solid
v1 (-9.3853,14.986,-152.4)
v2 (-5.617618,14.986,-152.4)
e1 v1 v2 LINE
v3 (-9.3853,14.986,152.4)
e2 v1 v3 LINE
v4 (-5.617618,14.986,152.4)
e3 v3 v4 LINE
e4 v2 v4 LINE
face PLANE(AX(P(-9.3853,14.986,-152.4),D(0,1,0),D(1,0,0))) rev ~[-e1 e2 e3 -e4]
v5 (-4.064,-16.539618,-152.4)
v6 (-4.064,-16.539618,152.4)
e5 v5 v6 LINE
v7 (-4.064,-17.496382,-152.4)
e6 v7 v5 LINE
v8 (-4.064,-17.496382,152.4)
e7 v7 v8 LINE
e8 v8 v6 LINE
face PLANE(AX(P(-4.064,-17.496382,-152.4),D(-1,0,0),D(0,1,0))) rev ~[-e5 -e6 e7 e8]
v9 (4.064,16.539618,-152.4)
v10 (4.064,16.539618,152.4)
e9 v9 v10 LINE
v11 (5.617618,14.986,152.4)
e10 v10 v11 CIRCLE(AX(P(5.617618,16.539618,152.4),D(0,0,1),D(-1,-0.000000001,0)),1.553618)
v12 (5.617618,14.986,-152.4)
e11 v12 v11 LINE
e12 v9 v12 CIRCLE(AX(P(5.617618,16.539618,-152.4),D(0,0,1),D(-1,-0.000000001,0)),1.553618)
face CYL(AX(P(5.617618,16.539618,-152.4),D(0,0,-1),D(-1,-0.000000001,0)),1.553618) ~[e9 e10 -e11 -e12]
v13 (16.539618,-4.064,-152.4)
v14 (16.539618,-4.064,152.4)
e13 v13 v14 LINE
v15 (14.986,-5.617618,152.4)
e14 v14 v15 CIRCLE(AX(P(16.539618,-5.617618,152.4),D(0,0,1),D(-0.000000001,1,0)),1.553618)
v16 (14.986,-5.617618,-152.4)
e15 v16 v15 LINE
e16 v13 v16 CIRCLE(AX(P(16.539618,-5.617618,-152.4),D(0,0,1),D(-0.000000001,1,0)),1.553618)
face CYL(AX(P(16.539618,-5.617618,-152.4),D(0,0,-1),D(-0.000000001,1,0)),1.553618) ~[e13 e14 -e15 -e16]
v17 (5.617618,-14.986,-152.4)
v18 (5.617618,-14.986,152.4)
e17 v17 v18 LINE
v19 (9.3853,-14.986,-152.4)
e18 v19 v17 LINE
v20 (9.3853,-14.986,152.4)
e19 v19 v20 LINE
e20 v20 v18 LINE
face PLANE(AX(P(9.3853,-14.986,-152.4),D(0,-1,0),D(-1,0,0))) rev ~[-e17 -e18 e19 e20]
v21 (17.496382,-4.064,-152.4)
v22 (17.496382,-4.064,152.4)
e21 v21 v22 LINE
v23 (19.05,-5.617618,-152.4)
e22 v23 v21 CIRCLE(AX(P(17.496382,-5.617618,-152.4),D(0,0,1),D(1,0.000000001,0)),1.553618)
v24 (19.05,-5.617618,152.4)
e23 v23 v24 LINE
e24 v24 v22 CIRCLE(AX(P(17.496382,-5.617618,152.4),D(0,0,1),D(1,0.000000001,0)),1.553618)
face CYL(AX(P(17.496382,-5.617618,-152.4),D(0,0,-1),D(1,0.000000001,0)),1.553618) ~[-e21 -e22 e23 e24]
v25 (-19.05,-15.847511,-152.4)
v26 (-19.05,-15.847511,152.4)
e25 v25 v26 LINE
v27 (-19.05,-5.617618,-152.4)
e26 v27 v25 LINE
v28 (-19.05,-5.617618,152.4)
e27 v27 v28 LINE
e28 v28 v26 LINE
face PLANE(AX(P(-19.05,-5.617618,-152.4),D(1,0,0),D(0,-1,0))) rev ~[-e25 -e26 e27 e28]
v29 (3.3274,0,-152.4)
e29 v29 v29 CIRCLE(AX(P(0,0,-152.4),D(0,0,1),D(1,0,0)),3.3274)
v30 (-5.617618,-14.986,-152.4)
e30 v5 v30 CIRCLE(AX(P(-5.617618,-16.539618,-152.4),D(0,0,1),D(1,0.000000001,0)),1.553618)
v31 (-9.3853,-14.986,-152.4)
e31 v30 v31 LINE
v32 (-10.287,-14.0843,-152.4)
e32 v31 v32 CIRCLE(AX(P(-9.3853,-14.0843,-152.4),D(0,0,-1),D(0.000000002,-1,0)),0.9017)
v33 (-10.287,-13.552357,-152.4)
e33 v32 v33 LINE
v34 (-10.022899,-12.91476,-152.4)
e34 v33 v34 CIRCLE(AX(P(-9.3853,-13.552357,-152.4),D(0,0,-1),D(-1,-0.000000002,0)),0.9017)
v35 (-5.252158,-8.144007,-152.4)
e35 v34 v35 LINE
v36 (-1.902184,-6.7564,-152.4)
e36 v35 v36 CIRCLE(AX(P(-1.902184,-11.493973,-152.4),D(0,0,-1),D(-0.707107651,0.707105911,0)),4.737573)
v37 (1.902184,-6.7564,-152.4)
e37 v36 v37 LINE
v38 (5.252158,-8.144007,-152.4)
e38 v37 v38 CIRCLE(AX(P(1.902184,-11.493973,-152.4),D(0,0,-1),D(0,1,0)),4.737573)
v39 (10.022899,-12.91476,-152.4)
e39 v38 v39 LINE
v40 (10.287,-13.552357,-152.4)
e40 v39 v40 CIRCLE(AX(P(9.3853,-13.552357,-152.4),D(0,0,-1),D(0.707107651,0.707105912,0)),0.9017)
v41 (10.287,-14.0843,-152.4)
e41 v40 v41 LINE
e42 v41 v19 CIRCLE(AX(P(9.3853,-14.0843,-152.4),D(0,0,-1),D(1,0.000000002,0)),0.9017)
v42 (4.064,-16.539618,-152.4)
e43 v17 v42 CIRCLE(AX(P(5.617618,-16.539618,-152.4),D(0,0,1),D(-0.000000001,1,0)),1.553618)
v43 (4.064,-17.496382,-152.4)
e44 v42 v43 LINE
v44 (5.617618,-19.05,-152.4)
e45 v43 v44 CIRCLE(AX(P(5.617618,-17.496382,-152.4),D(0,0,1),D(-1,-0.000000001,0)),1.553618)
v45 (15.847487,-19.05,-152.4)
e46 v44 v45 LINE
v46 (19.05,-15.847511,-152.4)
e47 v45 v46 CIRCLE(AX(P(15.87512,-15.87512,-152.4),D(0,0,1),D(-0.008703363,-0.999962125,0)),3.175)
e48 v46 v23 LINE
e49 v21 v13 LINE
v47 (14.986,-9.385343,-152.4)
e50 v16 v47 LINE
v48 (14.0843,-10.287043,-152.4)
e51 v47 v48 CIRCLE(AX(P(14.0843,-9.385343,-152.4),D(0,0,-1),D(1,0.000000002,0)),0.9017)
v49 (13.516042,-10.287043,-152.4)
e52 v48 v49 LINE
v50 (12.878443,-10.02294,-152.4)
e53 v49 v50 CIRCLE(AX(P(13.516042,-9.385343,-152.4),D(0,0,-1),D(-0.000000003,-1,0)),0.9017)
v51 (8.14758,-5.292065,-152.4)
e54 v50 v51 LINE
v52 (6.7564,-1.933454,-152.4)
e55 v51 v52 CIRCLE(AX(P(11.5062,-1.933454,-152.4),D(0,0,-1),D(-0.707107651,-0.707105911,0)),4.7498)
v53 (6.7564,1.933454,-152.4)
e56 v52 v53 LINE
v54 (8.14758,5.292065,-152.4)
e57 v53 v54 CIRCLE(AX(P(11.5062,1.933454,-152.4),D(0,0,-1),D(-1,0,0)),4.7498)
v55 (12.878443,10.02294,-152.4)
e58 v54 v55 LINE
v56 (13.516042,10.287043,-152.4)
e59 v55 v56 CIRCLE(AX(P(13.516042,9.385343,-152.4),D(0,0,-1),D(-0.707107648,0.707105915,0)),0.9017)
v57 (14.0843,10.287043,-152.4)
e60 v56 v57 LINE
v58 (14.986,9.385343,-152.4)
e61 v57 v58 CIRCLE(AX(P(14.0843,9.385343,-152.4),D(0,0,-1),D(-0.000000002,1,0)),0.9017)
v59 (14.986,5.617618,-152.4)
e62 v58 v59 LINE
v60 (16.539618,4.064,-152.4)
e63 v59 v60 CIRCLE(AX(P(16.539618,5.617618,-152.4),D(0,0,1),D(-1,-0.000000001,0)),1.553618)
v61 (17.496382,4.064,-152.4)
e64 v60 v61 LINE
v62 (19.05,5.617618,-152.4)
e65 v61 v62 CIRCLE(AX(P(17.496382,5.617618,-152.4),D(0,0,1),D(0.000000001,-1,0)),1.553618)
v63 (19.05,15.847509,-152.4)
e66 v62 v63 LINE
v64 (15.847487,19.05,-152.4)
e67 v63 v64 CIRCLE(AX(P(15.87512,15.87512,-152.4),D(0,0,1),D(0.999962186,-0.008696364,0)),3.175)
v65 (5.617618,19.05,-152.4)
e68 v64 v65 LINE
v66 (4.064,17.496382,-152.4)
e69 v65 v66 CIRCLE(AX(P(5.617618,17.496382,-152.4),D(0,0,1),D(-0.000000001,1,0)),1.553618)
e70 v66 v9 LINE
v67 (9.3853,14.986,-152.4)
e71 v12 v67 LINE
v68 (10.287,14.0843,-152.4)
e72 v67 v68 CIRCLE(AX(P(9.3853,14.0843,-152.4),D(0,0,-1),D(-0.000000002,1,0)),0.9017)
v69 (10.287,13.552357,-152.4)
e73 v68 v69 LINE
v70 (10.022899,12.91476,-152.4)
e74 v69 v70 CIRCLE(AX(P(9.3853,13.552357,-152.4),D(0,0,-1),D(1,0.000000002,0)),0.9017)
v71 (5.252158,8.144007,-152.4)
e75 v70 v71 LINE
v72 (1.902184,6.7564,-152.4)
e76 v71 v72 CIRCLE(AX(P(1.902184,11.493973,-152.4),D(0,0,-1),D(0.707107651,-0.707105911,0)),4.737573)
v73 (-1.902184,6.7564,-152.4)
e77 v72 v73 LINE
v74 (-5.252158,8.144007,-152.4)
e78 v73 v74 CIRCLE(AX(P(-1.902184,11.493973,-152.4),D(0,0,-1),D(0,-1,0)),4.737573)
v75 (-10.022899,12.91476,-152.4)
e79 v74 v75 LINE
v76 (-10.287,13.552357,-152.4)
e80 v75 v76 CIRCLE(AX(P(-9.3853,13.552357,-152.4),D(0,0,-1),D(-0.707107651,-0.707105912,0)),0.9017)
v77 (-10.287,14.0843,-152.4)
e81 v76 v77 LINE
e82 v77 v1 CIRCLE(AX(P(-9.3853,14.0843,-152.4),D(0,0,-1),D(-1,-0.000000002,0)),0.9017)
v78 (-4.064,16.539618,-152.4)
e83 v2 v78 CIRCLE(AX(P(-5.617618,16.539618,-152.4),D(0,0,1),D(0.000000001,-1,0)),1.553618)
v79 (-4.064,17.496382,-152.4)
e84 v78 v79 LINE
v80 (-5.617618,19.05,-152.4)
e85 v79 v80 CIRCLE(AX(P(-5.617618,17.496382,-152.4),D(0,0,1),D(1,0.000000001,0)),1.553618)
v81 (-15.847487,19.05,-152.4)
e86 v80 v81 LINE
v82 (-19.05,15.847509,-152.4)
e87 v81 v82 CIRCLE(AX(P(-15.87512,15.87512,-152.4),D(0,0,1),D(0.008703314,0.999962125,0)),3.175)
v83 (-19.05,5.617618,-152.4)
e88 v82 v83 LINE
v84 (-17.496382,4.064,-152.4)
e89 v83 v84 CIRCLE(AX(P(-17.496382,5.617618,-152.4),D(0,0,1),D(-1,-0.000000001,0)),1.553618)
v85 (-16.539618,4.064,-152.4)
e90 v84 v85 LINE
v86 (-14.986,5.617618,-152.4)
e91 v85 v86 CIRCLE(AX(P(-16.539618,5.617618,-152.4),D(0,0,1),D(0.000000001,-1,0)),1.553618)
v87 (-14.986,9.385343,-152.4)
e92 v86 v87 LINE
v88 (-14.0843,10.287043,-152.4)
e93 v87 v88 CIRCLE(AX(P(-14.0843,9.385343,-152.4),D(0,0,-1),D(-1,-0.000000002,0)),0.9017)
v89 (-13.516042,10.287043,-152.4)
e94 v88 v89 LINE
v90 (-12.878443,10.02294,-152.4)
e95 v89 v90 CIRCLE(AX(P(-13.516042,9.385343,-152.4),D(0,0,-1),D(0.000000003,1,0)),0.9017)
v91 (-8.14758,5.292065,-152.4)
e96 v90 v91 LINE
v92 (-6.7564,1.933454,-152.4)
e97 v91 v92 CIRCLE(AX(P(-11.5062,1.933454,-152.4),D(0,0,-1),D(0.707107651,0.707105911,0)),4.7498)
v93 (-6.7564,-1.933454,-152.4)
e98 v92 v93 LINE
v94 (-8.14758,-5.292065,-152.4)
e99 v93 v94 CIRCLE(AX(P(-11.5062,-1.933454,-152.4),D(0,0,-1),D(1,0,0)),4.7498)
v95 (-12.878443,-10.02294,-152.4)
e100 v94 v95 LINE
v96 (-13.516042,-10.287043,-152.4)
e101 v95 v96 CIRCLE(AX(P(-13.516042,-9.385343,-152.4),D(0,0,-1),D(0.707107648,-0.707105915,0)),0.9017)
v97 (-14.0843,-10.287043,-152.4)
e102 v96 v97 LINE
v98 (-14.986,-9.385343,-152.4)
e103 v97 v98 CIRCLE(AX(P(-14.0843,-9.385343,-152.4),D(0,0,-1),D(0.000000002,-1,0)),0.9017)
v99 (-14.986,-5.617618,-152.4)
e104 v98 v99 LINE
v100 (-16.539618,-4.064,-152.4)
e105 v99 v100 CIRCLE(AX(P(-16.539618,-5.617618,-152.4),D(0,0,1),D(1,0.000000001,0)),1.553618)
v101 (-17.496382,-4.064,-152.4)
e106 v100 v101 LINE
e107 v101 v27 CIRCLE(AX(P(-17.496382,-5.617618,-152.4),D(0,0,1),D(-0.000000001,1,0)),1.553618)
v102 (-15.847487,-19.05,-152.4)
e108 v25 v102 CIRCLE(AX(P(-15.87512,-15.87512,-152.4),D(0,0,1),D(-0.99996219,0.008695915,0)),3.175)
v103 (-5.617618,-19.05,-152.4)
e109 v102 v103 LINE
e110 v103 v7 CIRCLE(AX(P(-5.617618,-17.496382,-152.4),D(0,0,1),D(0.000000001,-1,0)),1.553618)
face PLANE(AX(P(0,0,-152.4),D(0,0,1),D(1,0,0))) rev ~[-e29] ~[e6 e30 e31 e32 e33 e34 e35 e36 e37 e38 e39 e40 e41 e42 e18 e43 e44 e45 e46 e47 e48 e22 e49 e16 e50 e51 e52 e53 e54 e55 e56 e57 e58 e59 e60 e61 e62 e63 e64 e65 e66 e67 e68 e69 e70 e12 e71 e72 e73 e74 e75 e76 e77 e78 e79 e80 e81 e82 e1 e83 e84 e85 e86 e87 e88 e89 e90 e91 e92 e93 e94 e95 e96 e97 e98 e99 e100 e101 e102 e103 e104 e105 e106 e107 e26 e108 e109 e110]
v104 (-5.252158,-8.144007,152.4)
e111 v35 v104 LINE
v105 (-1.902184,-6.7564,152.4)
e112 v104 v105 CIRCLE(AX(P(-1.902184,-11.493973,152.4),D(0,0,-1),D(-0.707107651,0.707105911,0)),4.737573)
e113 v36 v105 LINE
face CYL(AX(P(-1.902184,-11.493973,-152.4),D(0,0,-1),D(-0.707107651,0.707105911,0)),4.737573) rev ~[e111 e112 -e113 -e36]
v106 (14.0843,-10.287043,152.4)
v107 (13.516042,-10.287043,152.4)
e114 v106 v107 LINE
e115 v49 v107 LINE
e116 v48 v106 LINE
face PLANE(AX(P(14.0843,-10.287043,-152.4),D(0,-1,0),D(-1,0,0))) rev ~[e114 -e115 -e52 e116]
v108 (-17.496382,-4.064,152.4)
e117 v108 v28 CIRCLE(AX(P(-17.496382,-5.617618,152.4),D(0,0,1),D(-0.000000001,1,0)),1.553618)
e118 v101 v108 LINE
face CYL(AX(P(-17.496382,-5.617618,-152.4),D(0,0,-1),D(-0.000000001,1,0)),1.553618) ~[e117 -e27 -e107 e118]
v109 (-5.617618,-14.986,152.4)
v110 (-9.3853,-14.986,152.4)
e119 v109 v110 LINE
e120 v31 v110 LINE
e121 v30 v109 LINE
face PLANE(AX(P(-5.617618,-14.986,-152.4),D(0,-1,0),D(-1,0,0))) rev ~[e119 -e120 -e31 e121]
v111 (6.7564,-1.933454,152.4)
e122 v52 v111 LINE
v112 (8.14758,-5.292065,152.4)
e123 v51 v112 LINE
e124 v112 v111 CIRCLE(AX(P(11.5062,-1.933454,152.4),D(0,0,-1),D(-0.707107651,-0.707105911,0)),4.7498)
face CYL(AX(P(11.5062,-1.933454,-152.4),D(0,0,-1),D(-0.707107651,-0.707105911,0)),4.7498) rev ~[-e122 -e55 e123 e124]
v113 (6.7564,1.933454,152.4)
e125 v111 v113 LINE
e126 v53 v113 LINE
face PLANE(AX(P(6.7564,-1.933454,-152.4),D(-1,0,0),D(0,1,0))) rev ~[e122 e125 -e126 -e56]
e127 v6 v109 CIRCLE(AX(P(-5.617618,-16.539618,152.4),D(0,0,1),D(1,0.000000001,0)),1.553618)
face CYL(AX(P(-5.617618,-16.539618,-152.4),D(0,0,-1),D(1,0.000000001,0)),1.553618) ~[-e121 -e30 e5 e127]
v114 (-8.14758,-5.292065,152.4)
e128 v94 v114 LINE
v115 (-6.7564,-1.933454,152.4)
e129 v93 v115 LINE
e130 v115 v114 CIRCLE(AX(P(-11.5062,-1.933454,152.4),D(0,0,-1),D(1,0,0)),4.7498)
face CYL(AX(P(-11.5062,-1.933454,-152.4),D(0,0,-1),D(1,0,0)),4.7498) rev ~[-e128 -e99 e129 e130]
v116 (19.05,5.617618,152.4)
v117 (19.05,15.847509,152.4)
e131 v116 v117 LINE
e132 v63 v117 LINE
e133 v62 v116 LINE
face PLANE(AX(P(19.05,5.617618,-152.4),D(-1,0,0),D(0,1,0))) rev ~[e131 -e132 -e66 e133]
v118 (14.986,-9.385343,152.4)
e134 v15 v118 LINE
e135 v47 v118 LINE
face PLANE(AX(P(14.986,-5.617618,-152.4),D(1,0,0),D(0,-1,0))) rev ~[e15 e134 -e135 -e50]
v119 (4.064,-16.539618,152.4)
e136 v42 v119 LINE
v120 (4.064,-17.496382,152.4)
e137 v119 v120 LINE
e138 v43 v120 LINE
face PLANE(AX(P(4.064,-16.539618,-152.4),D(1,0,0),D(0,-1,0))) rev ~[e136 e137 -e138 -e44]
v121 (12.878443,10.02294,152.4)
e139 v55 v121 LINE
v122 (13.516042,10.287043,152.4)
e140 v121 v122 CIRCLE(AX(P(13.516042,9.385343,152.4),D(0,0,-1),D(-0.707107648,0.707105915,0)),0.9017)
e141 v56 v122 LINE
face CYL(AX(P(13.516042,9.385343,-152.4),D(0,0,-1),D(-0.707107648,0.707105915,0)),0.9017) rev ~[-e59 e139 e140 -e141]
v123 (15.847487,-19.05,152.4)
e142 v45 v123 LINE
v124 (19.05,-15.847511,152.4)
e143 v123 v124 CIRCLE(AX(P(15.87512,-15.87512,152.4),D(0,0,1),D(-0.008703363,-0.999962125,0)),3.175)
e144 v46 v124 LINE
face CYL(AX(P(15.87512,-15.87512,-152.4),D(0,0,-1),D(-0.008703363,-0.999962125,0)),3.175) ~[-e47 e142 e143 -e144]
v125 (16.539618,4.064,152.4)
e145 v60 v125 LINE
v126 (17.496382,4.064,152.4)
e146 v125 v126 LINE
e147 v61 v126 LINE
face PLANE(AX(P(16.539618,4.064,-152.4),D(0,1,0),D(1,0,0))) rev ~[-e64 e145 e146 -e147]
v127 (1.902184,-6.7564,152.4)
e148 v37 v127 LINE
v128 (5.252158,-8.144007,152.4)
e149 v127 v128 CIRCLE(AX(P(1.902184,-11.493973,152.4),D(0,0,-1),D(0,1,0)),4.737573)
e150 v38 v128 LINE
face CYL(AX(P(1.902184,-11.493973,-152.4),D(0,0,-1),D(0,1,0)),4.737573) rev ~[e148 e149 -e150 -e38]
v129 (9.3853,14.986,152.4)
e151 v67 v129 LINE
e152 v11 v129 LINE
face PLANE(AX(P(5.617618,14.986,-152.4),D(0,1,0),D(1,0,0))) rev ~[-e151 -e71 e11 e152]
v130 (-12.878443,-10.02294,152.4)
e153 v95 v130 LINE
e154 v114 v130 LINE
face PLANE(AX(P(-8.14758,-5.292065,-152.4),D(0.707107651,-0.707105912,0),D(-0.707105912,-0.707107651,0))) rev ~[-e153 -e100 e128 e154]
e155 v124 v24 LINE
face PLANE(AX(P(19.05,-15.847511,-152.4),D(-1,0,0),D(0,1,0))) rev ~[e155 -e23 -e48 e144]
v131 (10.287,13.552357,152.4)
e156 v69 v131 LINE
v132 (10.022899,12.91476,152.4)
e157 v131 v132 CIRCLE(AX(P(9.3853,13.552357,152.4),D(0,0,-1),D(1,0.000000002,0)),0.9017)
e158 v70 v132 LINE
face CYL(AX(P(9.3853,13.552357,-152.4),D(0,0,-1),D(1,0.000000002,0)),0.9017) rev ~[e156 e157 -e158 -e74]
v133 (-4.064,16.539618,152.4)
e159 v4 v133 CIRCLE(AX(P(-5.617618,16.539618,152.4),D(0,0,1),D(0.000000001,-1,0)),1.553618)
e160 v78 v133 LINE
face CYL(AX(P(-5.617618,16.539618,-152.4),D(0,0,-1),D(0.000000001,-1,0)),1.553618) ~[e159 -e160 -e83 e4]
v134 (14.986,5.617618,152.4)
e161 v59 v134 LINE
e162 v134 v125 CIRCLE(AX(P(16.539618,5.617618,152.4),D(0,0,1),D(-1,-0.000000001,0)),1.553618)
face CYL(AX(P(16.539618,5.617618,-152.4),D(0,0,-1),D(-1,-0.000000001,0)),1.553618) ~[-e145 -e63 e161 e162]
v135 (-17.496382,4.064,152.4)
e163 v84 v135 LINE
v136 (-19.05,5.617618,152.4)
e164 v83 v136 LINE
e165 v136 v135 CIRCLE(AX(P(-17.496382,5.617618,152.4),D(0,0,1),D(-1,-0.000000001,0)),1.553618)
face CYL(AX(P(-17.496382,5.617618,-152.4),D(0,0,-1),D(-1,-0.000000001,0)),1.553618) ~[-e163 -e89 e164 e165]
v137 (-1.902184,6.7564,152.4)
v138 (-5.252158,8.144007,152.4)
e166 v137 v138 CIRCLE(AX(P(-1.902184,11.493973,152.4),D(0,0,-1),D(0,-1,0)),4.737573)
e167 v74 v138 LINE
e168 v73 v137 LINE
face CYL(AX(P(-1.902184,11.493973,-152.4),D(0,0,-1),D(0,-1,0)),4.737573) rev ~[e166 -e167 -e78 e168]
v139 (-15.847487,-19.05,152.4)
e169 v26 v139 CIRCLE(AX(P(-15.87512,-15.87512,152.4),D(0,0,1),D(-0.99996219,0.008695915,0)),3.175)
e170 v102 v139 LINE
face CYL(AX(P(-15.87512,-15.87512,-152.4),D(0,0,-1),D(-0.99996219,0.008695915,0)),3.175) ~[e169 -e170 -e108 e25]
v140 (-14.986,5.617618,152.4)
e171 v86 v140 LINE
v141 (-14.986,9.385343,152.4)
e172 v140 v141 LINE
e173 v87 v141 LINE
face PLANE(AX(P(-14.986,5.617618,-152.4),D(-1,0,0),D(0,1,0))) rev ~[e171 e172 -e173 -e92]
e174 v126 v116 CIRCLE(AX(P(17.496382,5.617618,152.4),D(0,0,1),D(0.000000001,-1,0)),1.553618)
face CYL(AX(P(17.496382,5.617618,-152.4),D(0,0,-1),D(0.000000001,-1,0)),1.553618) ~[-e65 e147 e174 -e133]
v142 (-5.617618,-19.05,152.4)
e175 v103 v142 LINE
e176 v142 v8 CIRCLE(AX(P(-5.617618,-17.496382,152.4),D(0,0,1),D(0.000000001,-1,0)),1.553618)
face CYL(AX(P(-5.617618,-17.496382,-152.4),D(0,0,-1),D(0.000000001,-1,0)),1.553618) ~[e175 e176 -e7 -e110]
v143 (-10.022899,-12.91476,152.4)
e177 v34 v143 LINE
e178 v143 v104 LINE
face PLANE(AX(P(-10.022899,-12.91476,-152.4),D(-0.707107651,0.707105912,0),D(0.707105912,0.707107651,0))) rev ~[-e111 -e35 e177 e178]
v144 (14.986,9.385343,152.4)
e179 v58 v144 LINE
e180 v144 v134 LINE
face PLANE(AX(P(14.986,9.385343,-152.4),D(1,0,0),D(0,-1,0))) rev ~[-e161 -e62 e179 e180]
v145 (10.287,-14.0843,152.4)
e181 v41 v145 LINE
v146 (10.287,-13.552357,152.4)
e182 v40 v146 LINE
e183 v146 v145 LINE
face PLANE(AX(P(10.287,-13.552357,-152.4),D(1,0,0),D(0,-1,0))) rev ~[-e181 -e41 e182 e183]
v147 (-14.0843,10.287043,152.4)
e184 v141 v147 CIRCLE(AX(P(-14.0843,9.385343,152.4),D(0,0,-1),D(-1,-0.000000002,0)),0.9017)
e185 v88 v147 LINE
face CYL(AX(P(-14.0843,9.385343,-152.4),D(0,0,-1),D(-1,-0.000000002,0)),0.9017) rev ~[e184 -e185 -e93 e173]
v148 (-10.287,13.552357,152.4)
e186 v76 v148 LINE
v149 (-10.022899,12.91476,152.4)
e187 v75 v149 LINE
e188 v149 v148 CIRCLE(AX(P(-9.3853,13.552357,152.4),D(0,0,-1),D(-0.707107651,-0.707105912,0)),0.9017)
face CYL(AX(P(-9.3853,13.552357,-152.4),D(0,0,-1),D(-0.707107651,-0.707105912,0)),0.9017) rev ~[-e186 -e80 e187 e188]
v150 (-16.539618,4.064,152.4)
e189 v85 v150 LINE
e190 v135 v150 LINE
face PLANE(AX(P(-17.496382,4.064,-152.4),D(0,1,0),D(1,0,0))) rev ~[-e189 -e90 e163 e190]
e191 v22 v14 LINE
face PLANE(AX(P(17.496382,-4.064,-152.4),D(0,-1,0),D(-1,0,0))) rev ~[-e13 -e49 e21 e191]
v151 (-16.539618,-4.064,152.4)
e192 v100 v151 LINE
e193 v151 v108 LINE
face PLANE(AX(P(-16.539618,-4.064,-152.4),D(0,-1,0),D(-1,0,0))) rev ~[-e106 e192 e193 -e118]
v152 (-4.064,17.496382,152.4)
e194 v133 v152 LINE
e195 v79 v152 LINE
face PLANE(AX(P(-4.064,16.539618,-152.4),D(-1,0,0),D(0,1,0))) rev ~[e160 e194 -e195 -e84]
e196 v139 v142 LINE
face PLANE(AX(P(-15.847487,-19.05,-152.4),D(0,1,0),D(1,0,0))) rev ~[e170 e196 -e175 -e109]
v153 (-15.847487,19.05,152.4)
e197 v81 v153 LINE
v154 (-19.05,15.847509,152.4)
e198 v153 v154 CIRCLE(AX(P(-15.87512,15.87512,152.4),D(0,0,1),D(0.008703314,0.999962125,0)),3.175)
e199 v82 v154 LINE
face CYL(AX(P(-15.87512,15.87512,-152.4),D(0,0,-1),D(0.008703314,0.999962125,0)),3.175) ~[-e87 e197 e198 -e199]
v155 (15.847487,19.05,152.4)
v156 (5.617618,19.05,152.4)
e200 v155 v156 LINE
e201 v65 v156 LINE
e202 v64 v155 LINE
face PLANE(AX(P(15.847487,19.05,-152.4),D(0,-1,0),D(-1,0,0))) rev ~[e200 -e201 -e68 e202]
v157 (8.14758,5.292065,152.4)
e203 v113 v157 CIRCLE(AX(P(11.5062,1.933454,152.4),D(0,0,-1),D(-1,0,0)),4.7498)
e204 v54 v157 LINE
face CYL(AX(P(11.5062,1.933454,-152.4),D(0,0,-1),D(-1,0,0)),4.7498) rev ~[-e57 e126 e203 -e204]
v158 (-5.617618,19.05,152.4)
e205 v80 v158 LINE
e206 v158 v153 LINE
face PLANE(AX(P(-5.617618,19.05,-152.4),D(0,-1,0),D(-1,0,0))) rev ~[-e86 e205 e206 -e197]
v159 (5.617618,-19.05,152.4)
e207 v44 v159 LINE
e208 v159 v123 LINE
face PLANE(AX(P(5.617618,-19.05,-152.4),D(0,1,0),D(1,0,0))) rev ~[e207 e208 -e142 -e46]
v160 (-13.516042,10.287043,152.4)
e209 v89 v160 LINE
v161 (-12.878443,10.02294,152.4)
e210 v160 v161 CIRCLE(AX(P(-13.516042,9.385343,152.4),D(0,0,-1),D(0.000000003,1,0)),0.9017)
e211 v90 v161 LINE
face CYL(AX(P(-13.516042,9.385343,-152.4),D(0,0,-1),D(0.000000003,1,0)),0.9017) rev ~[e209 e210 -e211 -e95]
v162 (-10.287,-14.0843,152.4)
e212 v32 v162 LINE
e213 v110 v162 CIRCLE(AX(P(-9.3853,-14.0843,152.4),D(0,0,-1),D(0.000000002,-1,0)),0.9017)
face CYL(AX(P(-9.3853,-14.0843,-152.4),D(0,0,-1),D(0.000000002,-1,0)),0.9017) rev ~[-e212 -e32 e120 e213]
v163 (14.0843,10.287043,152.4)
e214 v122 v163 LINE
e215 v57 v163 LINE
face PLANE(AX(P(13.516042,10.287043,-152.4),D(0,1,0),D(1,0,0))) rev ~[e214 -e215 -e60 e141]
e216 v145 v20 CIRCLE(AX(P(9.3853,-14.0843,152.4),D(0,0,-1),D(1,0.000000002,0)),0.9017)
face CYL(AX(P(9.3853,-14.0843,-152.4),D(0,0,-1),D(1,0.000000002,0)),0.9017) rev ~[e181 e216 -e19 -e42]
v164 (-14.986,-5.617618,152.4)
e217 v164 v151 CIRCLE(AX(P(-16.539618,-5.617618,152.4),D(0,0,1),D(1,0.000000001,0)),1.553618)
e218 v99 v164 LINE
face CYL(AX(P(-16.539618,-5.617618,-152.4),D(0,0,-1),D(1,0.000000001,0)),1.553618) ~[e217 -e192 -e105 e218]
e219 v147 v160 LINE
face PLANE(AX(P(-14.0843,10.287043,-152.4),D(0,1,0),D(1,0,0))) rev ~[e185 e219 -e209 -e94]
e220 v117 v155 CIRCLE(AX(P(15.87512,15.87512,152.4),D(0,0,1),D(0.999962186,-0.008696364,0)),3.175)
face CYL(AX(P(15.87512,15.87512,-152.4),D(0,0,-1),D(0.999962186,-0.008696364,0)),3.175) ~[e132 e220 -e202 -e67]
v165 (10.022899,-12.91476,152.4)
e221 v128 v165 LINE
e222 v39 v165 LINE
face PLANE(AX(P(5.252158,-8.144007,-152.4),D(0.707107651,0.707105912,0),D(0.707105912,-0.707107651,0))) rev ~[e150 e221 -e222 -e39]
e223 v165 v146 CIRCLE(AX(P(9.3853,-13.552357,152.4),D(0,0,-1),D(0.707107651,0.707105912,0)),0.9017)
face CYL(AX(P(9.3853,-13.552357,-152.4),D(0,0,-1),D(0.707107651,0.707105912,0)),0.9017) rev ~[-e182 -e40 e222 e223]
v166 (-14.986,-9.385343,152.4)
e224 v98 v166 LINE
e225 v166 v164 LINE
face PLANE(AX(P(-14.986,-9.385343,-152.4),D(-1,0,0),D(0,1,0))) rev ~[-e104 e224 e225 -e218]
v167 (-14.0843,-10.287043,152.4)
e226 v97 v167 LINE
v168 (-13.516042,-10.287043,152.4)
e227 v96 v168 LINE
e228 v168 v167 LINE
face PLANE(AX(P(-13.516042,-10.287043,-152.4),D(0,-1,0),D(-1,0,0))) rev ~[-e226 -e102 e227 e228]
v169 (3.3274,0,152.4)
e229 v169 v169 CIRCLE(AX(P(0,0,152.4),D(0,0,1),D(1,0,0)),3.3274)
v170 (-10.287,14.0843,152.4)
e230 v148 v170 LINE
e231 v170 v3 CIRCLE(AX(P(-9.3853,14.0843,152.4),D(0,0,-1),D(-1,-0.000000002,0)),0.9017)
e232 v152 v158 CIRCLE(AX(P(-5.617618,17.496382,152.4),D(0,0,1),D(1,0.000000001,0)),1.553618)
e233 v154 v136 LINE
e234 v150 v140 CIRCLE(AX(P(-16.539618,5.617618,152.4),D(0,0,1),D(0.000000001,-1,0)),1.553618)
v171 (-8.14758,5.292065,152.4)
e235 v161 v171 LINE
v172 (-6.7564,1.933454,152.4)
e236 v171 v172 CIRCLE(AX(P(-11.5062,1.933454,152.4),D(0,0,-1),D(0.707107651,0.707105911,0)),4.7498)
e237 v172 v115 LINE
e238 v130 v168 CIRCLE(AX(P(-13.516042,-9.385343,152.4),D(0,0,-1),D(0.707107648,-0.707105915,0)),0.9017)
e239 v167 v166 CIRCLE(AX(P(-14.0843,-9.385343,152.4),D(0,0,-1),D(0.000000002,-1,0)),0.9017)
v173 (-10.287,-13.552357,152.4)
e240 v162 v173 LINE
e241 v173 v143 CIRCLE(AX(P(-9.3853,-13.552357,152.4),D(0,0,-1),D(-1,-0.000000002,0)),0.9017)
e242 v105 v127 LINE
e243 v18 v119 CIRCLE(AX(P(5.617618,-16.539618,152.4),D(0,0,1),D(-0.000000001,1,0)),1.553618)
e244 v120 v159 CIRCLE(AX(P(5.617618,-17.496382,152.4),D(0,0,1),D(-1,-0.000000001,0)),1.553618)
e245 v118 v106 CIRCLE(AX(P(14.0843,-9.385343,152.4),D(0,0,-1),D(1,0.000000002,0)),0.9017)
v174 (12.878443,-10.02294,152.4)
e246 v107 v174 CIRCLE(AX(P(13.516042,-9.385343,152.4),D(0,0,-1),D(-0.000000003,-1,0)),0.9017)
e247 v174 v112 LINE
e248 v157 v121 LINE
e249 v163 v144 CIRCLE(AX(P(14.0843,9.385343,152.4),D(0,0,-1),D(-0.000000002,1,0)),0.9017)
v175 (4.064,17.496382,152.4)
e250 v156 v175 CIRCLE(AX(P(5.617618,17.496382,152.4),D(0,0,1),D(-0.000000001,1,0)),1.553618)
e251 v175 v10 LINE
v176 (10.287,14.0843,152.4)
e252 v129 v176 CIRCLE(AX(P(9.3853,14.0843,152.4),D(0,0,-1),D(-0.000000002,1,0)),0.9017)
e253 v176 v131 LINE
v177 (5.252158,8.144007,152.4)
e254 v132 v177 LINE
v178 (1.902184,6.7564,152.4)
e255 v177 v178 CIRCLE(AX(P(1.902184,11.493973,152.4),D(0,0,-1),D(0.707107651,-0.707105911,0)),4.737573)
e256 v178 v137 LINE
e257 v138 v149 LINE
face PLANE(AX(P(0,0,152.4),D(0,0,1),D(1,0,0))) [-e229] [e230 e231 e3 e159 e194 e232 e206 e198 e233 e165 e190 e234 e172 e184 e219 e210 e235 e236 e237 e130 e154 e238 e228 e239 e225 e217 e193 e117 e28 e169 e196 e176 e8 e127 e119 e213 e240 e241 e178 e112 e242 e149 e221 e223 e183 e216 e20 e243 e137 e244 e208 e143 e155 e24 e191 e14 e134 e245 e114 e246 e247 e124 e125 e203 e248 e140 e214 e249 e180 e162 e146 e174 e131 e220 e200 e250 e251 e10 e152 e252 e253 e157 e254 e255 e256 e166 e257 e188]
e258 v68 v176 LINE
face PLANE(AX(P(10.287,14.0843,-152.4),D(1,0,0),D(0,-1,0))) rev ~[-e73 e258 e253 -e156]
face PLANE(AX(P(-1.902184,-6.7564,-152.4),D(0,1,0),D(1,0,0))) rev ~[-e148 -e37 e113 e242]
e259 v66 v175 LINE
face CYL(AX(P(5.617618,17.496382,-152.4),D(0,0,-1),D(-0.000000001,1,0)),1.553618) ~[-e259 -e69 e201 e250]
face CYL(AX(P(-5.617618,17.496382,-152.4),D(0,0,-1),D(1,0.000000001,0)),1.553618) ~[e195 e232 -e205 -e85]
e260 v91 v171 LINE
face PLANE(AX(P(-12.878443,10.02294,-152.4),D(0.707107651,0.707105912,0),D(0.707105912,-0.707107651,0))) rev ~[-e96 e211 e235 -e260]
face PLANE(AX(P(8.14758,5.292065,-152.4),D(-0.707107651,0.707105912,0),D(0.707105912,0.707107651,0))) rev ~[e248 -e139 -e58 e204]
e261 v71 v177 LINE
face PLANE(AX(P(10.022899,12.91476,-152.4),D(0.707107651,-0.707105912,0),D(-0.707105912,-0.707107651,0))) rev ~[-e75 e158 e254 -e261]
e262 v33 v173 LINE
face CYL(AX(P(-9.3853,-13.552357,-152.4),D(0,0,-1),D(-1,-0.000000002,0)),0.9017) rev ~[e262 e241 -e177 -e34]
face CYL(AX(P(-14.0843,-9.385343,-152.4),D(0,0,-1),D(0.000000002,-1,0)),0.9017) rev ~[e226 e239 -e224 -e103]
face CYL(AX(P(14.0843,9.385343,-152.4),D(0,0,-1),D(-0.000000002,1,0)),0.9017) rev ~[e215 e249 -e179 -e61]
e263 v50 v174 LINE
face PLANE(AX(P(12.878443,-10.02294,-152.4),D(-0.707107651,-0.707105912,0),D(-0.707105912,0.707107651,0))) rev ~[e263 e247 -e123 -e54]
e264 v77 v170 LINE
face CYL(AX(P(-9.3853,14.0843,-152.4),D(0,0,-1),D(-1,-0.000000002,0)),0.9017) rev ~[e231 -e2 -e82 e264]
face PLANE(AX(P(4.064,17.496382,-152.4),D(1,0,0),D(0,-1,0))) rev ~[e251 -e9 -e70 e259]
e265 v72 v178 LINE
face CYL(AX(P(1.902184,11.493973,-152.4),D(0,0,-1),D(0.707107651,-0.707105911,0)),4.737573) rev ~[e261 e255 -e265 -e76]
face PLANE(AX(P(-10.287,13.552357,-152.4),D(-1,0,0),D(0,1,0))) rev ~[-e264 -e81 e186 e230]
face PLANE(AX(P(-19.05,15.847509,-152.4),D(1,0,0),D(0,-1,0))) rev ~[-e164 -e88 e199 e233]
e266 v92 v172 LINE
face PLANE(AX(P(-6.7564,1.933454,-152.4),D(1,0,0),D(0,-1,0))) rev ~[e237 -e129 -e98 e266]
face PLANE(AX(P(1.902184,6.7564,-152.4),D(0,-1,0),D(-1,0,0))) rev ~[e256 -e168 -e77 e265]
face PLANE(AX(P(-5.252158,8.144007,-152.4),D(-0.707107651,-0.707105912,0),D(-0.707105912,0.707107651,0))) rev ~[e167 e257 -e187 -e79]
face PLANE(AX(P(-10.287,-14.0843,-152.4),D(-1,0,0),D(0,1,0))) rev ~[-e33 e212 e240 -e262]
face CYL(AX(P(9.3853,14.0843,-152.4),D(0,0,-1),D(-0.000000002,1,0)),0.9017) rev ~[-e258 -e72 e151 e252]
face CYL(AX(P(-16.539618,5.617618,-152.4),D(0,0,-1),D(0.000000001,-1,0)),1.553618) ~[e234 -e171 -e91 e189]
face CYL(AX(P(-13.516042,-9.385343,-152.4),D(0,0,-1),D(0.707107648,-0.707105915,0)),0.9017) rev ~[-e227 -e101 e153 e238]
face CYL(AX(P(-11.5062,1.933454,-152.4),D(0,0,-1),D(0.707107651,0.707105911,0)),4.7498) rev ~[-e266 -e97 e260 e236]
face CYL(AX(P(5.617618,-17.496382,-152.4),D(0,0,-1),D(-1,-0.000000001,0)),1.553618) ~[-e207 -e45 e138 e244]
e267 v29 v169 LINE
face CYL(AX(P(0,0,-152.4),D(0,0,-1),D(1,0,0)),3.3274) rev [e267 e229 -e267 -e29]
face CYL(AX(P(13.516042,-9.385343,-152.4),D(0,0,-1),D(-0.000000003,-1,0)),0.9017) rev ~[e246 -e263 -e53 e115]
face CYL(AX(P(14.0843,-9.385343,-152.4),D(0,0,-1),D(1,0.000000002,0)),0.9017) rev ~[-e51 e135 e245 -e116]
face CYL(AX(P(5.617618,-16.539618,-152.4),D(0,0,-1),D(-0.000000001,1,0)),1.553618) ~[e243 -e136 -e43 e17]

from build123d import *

# Parameters (mm, degrees)
BOSS_EXTRUDE1_DEPTH      = 152.4
BOSS_EXTRUDE1_DEPTH_BACK = 152.4
SKETCH3_R                = 3.3274


with BuildPart() as part:
    # Sketch3 → Boss-Extrude1 (new, two sides: drawn at the far end of the back side and taken through both)
    with BuildSketch(Plane.XY.offset(-BOSS_EXTRUDE1_DEPTH_BACK)):
        with BuildLine():
            ThreePointArc((-5.617617549, 14.986), (-4.519044045, 15.441044045), (-4.064, 16.539617549))
            Line((-4.064, 16.539617549), (-4.064, 17.496382451))
            ThreePointArc((-4.064, 17.496382451), (-4.519044045, 18.594955955), (-5.617617549, 19.05))
            Line((-5.617617549, 19.05), (-7.974178704, 19.05))
            Line((-7.974178704, 19.05), (-9.498178704, 19.05))
            Line((-9.498178704, 19.05), (-14.327719207, 19.05))
            Line((-14.327719207, 19.05), (-15.847487039, 19.05))
            ThreePointArc((-15.847487039, 19.05), (-18.120176289, 18.120192083), (-19.05, 15.847509295))
            Line((-19.05, 15.847509295), (-19.05, 14.327741484))
            Line((-19.05, 14.327741484), (-19.05, 9.496091471))
            Line((-19.05, 9.496091471), (-19.05, 7.97632366))
            Line((-19.05, 7.97632366), (-19.05, 5.617617549))
            ThreePointArc((-19.05, 5.617617549), (-18.594955955, 4.519044045), (-17.496382451, 4.064))
            Line((-17.496382451, 4.064), (-16.539617549, 4.064))
            ThreePointArc((-16.539617549, 4.064), (-15.441044045, 4.519044045), (-14.986, 5.617617549))
            Line((-14.986, 5.617617549), (-14.986, 9.385342516))
            ThreePointArc((-14.986, 9.385342516), (-14.721898185, 10.022940701), (-14.0843, 10.287042516))
            Line((-14.0843, 10.287042516), (-13.516042086, 10.287042516))
            ThreePointArc((-13.516042086, 10.287042516), (-13.170975923, 10.218404478), (-12.878443117, 10.022939917))
            Line((-12.878443117, 10.022939917), (-8.14758008, 5.292065243))
            ThreePointArc((-8.14758008, 5.292065243), (-7.117955879, 3.751120653), (-6.7564, 1.933453584))
            Line((-6.7564, 1.933453584), (-6.7564, -1.933453584))
            ThreePointArc((-6.7564, -1.933453584), (-7.117955879, -3.751120653), (-8.14758008, -5.292065243))
            Line((-8.14758008, -5.292065243), (-12.878443117, -10.022939917))
            ThreePointArc((-12.878443117, -10.022939917), (-13.170975923, -10.218404478), (-13.516042086, -10.287042516))
            Line((-13.516042086, -10.287042516), (-14.0843, -10.287042516))
            ThreePointArc((-14.0843, -10.287042516), (-14.721898185, -10.022940701), (-14.986, -9.385342516))
            Line((-14.986, -9.385342516), (-14.986, -5.617617549))
            ThreePointArc((-14.986, -5.617617549), (-15.441044045, -4.519044045), (-16.539617549, -4.064))
            Line((-16.539617549, -4.064), (-17.496382451, -4.064))
            ThreePointArc((-17.496382451, -4.064), (-18.594955955, -4.519044045), (-19.05, -5.617617549))
            Line((-19.05, -5.617617549), (-19.05, -7.976318491))
            Line((-19.05, -7.976318491), (-19.05, -9.496086302))
            Line((-19.05, -9.496086302), (-19.05, -14.32774291))
            Line((-19.05, -14.32774291), (-19.05, -15.847510721))
            ThreePointArc((-19.05, -15.847510721), (-18.120175716, -18.120192644), (-15.847486868, -19.05))
            Line((-15.847486868, -19.05), (-14.327719036, -19.05))
            Line((-14.327719036, -19.05), (-9.496062448, -19.05))
            Line((-9.496062448, -19.05), (-7.976294616, -19.05))
            Line((-7.976294616, -19.05), (-5.617617549, -19.05))
            ThreePointArc((-5.617617549, -19.05), (-4.519044045, -18.594955955), (-4.064, -17.496382451))
            Line((-4.064, -17.496382451), (-4.064, -16.539617549))
            ThreePointArc((-4.064, -16.539617549), (-4.519044045, -15.441044045), (-5.617617549, -14.986))
            Line((-5.617617549, -14.986), (-9.3853, -14.986))
            ThreePointArc((-9.3853, -14.986), (-10.022898185, -14.721898185), (-10.287, -14.0843))
            Line((-10.287, -14.0843), (-10.287, -13.552357131))
            ThreePointArc((-10.287, -13.552357131), (-10.218362387, -13.207291992), (-10.022898969, -12.91475973))
            Line((-10.022898969, -12.91475973), (-5.252158105, -8.144007132))
            ThreePointArc((-5.252158105, -8.144007132), (-3.715177372, -7.117027388), (-1.902183975, -6.7564))
            Line((-1.902183975, -6.7564), (1.902183975, -6.7564))
            ThreePointArc((1.902183975, -6.7564), (3.715177372, -7.117027388), (5.252158105, -8.144007132))
            Line((5.252158105, -8.144007132), (10.022898969, -12.91475973))
            ThreePointArc((10.022898969, -12.91475973), (10.218362387, -13.207291992), (10.287, -13.552357131))
            Line((10.287, -13.552357131), (10.287, -14.0843))
            ThreePointArc((10.287, -14.0843), (10.022898185, -14.721898185), (9.3853, -14.986))
            Line((9.3853, -14.986), (5.617617549, -14.986))
            ThreePointArc((5.617617549, -14.986), (4.519044045, -15.441044045), (4.064, -16.539617549))
            Line((4.064, -16.539617549), (4.064, -17.496382451))
            ThreePointArc((4.064, -17.496382451), (4.519044045, -18.594955955), (5.617617549, -19.05))
            Line((5.617617549, -19.05), (7.976294616, -19.05))
            Line((7.976294616, -19.05), (9.496062448, -19.05))
            Line((9.496062448, -19.05), (14.327719036, -19.05))
            Line((14.327719036, -19.05), (15.847486868, -19.05))
            ThreePointArc((15.847486868, -19.05), (18.120175716, -18.120192644), (19.05, -15.847510721))
            Line((19.05, -15.847510721), (19.05, -14.32774291))
            Line((19.05, -14.32774291), (19.05, -9.496086302))
            Line((19.05, -9.496086302), (19.05, -7.976318491))
            Line((19.05, -7.976318491), (19.05, -5.617617549))
            ThreePointArc((19.05, -5.617617549), (18.594955955, -4.519044045), (17.496382451, -4.064))
            Line((17.496382451, -4.064), (16.539617549, -4.064))
            ThreePointArc((16.539617549, -4.064), (15.441044045, -4.519044045), (14.986, -5.617617549))
            Line((14.986, -5.617617549), (14.986, -9.385342516))
            ThreePointArc((14.986, -9.385342516), (14.721898185, -10.022940701), (14.0843, -10.287042516))
            Line((14.0843, -10.287042516), (13.516042086, -10.287042516))
            ThreePointArc((13.516042086, -10.287042516), (13.170975923, -10.218404478), (12.878443117, -10.022939917))
            Line((12.878443117, -10.022939917), (8.14758008, -5.292065243))
            ThreePointArc((8.14758008, -5.292065243), (7.117955879, -3.751120653), (6.7564, -1.933453584))
            Line((6.7564, -1.933453584), (6.7564, 1.933453584))
            ThreePointArc((6.7564, 1.933453584), (7.117955879, 3.751120653), (8.14758008, 5.292065243))
            Line((8.14758008, 5.292065243), (12.878443117, 10.022939917))
            ThreePointArc((12.878443117, 10.022939917), (13.170975923, 10.218404478), (13.516042086, 10.287042516))
            Line((13.516042086, 10.287042516), (14.0843, 10.287042516))
            ThreePointArc((14.0843, 10.287042516), (14.721898185, 10.022940701), (14.986, 9.385342516))
            Line((14.986, 9.385342516), (14.986, 5.617617549))
            ThreePointArc((14.986, 5.617617549), (15.441044045, 4.519044045), (16.539617549, 4.064))
            Line((16.539617549, 4.064), (17.496382451, 4.064))
            ThreePointArc((17.496382451, 4.064), (18.594955955, 4.519044045), (19.05, 5.617617549))
            Line((19.05, 5.617617549), (19.05, 7.97632366))
            Line((19.05, 7.97632366), (19.05, 9.496091471))
            Line((19.05, 9.496091471), (19.05, 14.327741484))
            Line((19.05, 14.327741484), (19.05, 15.847509295))
            ThreePointArc((19.05, 15.847509295), (18.120176289, 18.120192083), (15.847487039, 19.05))
            Line((15.847487039, 19.05), (14.327719207, 19.05))
            Line((14.327719207, 19.05), (9.498178704, 19.05))
            Line((9.498178704, 19.05), (7.974178704, 19.05))
            Line((7.974178704, 19.05), (5.617617549, 19.05))
            ThreePointArc((5.617617549, 19.05), (4.519044045, 18.594955955), (4.064, 17.496382451))
            Line((4.064, 17.496382451), (4.064, 16.539617549))
            ThreePointArc((4.064, 16.539617549), (4.519044045, 15.441044045), (5.617617549, 14.986))
            Line((5.617617549, 14.986), (9.3853, 14.986))
            ThreePointArc((9.3853, 14.986), (10.022898185, 14.721898185), (10.287, 14.0843))
            Line((10.287, 14.0843), (10.287, 13.552357131))
            ThreePointArc((10.287, 13.552357131), (10.218362387, 13.207291992), (10.022898969, 12.91475973))
            Line((10.022898969, 12.91475973), (5.252158105, 8.144007132))
            ThreePointArc((5.252158105, 8.144007132), (3.715177372, 7.117027388), (1.902183975, 6.7564))
            Line((1.902183975, 6.7564), (-1.902183975, 6.7564))
            ThreePointArc((-1.902183975, 6.7564), (-3.715177372, 7.117027388), (-5.252158105, 8.144007132))
            Line((-5.252158105, 8.144007132), (-10.022898969, 12.91475973))
            ThreePointArc((-10.022898969, 12.91475973), (-10.218362387, 13.207291992), (-10.287, 13.552357131))
            Line((-10.287, 13.552357131), (-10.287, 14.0843))
            ThreePointArc((-10.287, 14.0843), (-10.022898185, 14.721898185), (-9.3853, 14.986))
            Line((-9.3853, 14.986), (-5.617617549, 14.986))
        make_face()
        Circle(SKETCH3_R, mode=Mode.SUBTRACT)
    extrude(amount=BOSS_EXTRUDE1_DEPTH + BOSS_EXTRUDE1_DEPTH_BACK)


solid = part.part
